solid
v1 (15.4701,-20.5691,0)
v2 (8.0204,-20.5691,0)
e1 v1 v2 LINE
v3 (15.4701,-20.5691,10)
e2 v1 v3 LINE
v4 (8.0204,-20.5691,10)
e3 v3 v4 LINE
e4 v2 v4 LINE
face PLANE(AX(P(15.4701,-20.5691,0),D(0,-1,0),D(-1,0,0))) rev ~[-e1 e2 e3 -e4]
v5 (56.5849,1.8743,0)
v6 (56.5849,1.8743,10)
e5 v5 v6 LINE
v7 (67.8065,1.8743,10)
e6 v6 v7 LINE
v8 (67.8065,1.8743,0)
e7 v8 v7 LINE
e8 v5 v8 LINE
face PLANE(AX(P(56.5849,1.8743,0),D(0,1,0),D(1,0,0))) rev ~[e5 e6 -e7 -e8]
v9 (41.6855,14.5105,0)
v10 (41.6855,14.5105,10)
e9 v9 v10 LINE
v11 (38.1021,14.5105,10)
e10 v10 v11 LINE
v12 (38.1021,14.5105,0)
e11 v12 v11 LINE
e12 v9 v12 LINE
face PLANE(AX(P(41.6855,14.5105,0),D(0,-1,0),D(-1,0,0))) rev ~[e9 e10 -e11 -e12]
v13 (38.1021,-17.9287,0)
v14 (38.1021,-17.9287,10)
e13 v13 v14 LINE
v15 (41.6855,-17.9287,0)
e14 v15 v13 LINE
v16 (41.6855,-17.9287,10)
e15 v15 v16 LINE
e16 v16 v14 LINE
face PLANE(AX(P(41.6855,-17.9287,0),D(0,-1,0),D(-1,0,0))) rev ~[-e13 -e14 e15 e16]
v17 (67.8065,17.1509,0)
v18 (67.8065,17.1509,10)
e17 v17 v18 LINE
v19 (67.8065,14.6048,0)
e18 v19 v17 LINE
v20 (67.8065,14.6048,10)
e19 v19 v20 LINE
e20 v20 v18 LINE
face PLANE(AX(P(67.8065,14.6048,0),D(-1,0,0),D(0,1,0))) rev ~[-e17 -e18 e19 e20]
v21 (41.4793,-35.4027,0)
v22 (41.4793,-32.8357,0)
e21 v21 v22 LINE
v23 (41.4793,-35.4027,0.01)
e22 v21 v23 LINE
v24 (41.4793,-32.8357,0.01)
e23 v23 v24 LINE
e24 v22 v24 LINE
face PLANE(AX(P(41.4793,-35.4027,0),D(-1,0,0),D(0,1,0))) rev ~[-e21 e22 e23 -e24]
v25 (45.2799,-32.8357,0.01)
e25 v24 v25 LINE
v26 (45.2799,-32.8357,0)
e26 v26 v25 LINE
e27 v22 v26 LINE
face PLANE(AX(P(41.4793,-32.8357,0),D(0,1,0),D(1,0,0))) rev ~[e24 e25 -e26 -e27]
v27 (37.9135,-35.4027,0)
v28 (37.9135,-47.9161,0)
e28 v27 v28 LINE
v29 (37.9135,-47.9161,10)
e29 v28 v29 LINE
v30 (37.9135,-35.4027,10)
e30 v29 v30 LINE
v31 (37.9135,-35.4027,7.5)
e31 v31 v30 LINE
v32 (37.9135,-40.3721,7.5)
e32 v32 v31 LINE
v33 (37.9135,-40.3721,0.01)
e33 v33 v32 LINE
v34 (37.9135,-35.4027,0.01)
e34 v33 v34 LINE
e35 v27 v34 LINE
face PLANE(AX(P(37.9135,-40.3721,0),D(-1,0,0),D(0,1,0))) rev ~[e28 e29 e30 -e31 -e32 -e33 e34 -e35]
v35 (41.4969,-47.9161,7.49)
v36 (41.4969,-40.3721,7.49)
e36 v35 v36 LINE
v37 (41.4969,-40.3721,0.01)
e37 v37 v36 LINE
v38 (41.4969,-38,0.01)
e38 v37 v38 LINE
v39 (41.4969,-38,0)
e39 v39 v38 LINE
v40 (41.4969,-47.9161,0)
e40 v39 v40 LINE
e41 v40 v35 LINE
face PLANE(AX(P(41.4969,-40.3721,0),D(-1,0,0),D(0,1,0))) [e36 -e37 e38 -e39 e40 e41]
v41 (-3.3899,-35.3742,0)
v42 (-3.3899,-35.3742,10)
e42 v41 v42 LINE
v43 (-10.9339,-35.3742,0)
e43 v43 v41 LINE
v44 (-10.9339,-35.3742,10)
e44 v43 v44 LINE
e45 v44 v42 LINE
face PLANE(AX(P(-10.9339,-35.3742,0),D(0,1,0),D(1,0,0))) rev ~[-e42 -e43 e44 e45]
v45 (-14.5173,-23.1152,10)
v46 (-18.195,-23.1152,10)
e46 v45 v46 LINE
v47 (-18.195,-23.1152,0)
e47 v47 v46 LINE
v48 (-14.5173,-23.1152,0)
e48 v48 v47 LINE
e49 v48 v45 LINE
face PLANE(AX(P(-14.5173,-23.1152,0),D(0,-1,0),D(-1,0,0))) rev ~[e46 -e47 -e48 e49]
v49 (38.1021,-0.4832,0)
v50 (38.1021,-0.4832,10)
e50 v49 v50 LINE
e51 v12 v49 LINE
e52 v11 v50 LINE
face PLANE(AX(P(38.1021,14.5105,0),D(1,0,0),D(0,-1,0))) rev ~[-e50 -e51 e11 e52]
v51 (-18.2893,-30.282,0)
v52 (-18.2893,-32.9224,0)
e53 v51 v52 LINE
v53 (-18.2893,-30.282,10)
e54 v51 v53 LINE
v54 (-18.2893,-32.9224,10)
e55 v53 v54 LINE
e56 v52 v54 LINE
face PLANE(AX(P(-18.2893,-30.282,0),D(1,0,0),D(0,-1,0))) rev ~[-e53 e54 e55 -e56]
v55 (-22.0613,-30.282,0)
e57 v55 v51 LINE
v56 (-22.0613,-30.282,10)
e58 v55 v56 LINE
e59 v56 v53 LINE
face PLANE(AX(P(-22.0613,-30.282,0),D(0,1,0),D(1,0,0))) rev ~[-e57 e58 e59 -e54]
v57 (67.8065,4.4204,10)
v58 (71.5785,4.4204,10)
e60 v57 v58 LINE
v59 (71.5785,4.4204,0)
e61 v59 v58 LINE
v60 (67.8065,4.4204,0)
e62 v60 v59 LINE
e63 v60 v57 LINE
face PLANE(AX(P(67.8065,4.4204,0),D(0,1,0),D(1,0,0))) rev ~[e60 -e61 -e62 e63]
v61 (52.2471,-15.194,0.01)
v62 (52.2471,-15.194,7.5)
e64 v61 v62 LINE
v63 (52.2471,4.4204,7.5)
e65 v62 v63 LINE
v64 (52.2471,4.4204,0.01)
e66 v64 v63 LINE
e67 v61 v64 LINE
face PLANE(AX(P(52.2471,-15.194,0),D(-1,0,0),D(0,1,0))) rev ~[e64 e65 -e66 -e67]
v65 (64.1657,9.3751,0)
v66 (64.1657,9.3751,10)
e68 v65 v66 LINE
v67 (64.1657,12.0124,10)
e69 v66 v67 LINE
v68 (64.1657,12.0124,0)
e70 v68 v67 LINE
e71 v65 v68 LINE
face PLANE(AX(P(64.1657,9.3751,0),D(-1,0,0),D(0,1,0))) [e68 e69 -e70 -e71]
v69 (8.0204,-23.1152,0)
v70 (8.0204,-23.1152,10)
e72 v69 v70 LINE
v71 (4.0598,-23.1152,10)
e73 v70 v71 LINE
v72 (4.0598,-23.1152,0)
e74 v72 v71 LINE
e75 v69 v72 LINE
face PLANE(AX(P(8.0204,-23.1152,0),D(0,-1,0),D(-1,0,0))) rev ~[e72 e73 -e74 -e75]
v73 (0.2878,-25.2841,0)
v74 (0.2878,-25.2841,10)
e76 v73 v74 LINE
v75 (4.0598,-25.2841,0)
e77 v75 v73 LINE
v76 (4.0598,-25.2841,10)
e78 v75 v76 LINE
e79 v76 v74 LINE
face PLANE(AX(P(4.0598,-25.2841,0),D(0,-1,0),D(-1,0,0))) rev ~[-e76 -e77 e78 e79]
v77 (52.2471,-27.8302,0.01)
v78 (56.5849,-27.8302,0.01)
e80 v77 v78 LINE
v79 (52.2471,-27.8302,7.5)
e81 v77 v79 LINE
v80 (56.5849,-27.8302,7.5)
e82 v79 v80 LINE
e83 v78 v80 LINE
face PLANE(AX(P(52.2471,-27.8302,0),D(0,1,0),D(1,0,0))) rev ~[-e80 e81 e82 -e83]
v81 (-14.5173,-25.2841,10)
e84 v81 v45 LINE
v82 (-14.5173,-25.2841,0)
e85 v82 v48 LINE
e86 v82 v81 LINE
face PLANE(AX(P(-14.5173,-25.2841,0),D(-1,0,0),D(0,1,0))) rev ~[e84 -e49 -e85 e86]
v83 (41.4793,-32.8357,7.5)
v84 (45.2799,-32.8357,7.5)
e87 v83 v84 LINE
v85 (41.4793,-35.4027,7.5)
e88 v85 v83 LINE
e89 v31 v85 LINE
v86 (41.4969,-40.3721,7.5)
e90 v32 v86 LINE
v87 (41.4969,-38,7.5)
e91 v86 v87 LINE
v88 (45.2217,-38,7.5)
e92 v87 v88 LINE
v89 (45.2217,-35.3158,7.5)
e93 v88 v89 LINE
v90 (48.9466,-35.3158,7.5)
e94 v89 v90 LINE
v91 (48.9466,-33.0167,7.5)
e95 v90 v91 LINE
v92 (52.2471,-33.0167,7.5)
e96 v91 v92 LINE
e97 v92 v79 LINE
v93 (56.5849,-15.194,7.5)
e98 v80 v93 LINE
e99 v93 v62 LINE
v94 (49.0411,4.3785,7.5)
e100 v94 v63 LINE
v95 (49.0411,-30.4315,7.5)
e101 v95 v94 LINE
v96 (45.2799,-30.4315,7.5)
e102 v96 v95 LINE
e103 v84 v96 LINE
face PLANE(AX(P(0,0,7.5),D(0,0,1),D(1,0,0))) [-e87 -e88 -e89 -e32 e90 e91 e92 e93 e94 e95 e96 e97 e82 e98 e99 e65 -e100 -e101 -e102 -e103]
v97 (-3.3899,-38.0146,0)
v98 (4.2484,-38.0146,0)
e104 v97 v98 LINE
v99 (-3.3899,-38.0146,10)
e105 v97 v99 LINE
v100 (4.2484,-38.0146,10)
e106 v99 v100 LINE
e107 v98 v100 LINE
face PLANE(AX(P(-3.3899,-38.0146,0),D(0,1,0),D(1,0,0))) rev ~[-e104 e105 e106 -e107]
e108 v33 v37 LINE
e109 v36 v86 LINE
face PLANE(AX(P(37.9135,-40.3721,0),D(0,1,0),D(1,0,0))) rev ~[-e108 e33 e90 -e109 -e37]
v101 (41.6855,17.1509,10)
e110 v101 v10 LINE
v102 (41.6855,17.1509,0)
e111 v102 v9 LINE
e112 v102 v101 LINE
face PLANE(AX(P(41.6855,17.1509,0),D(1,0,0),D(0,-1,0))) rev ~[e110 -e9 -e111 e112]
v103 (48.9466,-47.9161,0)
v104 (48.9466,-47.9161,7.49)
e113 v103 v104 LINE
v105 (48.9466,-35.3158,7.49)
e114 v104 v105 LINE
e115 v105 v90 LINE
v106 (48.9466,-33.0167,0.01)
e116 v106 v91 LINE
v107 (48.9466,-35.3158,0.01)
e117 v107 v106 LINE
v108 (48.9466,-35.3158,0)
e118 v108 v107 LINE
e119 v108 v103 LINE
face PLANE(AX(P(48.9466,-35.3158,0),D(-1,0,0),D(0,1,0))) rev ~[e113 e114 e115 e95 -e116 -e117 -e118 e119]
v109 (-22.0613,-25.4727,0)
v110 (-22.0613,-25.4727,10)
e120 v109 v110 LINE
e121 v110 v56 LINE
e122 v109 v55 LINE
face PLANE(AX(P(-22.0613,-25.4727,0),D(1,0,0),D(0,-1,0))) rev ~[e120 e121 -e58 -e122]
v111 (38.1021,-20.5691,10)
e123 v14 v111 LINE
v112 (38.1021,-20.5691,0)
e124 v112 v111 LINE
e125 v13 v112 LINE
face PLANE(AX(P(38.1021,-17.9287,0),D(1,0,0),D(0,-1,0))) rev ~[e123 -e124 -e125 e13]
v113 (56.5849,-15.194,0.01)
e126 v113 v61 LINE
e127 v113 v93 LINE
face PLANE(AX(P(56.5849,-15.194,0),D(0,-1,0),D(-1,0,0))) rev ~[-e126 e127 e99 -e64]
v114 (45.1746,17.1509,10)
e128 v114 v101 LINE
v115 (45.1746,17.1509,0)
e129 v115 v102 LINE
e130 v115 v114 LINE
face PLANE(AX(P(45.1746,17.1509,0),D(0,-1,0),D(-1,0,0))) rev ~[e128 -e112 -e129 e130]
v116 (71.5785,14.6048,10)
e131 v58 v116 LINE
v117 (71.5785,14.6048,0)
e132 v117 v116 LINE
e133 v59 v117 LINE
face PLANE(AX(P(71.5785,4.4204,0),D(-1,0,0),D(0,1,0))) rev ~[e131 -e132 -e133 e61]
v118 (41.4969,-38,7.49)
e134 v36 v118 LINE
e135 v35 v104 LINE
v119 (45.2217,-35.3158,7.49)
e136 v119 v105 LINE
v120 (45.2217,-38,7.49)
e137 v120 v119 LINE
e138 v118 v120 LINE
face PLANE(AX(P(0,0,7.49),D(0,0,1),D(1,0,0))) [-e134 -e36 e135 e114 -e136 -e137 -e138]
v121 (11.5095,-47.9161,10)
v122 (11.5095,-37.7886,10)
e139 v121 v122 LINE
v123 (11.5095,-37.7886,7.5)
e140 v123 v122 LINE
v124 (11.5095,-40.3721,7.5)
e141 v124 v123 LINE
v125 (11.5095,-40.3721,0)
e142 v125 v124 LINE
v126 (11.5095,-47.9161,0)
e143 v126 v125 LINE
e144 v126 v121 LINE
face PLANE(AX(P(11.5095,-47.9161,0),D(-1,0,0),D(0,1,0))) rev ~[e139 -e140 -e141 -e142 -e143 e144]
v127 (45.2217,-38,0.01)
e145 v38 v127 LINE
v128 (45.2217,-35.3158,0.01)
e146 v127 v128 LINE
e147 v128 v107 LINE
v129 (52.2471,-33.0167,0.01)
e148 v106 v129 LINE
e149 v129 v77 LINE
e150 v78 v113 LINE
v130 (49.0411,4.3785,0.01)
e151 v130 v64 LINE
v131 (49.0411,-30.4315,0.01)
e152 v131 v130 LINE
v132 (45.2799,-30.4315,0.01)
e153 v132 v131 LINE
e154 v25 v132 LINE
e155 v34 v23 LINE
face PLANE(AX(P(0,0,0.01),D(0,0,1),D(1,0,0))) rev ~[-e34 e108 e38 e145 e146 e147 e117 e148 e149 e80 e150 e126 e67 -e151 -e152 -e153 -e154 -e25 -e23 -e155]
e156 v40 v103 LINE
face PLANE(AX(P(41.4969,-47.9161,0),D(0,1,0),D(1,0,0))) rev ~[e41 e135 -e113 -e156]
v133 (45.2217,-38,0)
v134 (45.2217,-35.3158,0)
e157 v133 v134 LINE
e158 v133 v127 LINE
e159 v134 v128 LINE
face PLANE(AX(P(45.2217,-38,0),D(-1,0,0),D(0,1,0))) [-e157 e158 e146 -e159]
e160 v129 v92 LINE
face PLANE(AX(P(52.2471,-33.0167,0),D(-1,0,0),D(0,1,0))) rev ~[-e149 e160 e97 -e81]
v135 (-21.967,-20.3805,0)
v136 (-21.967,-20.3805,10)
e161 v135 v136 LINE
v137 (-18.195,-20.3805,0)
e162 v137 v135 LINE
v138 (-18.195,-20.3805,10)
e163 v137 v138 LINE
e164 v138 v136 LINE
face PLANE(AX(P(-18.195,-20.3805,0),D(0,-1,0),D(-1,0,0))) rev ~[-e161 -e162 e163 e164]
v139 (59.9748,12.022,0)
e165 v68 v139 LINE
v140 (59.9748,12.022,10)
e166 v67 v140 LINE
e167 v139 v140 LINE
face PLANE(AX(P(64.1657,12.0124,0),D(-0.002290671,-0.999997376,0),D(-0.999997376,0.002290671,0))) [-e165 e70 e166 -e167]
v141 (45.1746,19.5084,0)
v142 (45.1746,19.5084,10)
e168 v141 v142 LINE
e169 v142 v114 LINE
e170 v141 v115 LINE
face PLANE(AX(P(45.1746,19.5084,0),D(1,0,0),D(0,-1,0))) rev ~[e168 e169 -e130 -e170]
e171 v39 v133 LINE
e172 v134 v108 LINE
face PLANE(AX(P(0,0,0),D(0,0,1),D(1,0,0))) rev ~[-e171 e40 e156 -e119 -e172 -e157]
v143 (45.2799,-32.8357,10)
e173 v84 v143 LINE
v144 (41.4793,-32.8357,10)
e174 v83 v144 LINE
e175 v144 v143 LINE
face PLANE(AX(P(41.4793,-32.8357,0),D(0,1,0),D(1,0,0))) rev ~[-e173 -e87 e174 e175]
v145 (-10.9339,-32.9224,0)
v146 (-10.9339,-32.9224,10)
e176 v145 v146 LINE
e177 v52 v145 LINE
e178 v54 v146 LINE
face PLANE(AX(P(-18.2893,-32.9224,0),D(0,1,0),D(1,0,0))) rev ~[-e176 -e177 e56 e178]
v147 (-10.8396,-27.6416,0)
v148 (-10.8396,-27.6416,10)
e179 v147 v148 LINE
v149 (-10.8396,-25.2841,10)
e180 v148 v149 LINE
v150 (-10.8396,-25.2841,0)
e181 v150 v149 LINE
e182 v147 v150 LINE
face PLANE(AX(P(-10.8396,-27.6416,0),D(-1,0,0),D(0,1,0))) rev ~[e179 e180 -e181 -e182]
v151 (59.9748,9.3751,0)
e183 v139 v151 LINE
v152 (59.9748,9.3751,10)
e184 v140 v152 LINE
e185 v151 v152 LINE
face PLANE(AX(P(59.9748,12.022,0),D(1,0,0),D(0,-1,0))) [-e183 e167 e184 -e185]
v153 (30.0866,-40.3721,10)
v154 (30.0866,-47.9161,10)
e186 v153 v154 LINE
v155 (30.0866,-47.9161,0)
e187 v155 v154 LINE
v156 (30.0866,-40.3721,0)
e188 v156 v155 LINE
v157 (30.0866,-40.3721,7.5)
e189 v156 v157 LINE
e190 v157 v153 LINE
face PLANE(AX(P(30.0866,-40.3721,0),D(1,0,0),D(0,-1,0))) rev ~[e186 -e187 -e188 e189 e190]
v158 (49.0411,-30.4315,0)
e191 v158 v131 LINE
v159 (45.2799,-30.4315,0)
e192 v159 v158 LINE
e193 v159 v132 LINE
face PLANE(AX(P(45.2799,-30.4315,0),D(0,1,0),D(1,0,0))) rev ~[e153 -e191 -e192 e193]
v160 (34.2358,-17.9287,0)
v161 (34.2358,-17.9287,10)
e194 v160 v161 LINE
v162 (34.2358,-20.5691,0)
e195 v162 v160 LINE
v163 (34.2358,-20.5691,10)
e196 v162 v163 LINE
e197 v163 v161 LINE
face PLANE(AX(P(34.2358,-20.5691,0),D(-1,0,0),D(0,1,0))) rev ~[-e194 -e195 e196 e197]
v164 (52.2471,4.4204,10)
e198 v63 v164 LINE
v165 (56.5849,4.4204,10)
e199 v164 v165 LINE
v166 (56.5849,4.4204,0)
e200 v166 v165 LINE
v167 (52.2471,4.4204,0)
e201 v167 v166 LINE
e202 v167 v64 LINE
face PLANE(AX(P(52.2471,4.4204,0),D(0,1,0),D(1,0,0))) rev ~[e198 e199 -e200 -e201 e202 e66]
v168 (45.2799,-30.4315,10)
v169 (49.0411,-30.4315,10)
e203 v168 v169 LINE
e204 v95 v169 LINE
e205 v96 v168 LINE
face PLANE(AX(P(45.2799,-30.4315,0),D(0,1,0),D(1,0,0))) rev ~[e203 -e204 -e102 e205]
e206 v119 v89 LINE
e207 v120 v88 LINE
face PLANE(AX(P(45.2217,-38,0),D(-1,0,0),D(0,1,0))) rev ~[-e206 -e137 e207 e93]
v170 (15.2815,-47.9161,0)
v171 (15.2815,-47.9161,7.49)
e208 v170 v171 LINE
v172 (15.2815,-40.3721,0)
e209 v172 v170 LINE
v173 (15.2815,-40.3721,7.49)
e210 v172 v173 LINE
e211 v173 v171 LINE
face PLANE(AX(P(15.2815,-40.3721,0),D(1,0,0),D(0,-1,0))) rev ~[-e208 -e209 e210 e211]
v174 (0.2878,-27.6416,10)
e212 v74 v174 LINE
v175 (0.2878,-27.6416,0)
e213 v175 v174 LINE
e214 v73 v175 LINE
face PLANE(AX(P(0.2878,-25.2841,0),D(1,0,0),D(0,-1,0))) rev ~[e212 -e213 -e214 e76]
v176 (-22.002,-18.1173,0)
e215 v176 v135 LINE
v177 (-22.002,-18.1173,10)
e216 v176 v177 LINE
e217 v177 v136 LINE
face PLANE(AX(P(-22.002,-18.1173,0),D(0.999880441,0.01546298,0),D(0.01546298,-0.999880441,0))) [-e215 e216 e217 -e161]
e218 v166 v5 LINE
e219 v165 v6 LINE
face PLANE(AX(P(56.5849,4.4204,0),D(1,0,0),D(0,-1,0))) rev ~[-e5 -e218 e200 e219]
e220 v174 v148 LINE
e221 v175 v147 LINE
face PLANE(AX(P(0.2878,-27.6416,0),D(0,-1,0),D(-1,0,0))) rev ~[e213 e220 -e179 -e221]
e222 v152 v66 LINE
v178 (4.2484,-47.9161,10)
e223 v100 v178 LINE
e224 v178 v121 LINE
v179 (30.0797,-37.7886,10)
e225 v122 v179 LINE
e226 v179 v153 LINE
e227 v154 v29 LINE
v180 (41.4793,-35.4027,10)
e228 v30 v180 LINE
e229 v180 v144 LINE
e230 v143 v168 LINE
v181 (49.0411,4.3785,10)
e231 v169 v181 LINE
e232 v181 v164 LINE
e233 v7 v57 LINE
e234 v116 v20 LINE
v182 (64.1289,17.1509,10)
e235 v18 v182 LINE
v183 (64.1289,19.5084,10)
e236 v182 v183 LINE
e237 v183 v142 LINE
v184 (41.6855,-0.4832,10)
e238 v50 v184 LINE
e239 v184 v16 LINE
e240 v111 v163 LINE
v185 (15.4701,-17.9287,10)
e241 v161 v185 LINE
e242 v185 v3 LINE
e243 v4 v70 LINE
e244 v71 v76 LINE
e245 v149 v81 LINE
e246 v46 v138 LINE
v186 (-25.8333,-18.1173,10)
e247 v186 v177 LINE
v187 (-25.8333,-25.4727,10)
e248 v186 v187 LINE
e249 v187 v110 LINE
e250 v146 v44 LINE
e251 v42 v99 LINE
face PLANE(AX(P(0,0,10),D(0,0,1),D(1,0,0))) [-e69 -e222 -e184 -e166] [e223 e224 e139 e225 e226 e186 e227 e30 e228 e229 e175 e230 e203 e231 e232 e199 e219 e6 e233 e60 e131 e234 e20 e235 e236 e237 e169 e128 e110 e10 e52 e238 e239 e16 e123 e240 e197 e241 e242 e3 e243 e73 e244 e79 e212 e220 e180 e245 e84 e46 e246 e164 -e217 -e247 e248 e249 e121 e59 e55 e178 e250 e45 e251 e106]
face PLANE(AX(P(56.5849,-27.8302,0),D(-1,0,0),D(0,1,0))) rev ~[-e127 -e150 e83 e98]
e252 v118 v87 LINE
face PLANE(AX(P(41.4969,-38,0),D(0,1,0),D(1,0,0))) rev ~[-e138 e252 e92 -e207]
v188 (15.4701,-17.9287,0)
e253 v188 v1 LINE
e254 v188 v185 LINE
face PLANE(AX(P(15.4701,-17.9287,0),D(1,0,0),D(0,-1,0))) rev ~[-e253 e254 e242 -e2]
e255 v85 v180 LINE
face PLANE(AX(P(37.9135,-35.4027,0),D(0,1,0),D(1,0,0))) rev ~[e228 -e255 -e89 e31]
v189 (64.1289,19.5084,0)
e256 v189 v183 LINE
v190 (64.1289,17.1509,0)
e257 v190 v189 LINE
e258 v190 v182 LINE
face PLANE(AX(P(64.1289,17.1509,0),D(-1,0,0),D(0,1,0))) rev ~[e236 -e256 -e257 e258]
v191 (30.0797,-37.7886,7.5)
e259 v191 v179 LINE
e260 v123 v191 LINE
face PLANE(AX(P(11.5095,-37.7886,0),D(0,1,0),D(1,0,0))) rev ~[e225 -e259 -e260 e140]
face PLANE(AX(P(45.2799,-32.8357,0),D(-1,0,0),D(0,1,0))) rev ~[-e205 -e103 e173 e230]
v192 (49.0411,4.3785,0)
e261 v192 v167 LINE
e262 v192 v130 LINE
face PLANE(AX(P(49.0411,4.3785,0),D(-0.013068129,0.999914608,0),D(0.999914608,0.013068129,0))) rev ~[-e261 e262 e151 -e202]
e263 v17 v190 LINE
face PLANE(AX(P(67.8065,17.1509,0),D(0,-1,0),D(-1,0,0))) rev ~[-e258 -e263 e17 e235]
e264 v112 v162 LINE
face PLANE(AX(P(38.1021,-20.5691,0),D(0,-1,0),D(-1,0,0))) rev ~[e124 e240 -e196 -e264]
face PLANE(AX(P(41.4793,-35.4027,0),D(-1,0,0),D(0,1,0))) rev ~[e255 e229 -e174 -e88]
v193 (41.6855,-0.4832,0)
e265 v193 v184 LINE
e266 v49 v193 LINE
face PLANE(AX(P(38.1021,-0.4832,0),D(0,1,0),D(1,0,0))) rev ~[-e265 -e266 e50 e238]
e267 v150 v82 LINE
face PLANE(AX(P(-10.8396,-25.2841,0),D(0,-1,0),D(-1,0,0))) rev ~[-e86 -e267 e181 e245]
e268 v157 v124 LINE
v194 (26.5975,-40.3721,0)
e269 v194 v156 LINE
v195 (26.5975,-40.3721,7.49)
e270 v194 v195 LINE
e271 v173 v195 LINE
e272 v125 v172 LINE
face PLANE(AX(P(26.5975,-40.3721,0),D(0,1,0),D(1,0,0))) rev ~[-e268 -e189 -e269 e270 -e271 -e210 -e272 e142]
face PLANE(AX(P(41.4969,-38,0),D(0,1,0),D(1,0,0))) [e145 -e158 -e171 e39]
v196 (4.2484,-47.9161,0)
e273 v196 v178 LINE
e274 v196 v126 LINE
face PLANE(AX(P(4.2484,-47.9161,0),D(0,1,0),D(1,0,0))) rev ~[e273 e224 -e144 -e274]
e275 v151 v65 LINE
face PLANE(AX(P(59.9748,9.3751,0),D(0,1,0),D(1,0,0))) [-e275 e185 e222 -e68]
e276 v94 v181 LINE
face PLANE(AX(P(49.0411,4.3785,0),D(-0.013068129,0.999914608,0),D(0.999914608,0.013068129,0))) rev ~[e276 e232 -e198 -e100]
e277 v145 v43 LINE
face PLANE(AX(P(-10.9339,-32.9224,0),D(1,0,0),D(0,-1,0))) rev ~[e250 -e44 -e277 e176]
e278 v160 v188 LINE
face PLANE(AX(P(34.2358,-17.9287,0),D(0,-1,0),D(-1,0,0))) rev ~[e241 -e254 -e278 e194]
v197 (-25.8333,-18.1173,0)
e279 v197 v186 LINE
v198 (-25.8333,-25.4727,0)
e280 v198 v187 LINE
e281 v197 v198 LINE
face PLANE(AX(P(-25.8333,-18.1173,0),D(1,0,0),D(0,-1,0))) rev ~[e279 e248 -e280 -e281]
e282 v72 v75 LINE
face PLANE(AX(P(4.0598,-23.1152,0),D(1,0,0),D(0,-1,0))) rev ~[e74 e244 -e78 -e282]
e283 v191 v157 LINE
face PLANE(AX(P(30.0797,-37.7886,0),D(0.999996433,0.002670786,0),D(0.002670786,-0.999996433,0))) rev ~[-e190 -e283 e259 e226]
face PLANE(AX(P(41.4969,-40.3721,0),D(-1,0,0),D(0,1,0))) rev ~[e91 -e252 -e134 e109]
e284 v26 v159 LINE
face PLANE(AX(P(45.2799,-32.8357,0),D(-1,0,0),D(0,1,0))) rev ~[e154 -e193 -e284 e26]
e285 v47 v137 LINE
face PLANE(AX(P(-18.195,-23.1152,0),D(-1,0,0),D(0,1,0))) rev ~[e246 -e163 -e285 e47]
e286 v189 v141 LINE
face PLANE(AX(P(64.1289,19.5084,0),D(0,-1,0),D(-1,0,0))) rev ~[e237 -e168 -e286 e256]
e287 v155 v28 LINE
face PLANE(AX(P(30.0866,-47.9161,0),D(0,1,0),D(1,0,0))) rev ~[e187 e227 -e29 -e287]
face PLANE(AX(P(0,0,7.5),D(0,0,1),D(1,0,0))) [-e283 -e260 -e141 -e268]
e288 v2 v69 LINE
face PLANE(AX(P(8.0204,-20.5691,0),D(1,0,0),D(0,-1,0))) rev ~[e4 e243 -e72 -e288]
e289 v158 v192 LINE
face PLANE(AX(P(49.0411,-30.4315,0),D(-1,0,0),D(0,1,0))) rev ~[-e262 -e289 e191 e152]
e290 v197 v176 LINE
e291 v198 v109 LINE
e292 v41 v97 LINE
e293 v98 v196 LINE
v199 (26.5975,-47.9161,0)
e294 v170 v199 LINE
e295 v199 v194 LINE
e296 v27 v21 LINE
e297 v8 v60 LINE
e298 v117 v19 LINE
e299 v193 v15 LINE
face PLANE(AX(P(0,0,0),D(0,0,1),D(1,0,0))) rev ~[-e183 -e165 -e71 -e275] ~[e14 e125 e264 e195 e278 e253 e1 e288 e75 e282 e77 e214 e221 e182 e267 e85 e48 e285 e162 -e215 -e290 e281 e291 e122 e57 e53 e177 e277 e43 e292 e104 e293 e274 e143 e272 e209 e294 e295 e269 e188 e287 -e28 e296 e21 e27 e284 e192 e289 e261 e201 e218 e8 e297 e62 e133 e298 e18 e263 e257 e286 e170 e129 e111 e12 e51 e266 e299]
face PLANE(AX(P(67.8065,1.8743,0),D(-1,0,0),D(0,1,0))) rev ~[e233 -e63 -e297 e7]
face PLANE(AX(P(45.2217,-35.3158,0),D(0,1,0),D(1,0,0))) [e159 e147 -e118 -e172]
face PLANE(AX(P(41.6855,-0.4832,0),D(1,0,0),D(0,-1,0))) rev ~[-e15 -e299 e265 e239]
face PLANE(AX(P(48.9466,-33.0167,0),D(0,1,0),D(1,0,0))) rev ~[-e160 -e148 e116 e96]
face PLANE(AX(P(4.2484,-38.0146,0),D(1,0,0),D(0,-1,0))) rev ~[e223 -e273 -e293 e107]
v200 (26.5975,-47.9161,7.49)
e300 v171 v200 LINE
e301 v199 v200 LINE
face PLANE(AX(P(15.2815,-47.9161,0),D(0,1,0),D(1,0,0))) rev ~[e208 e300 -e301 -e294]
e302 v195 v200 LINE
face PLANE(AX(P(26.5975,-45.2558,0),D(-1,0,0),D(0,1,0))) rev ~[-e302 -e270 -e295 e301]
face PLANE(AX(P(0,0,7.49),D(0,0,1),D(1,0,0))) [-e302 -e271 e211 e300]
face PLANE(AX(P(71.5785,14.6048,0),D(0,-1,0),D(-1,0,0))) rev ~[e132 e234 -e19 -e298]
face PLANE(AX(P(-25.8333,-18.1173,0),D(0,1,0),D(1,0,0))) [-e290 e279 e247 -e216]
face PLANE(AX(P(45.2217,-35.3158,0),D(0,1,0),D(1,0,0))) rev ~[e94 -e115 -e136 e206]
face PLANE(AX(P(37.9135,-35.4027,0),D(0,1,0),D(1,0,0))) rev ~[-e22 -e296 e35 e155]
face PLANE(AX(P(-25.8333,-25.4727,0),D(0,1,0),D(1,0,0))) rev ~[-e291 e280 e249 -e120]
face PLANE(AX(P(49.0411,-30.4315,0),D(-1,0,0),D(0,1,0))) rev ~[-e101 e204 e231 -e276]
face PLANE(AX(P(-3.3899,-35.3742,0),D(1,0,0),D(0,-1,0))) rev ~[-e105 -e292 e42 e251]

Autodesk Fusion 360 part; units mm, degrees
sketch "Dino" plane through (0, 0, 0) normal (0, 0, 1) x (1, 0, 0)
  line L0 (-25.8333, -18.1173) -> (-25.8333, -25.4727)
  line L1 (-25.8333, -25.4727) -> (-22.0613, -25.4727)
  line L2 (-22.0613, -25.4727) -> (-22.0613, -30.282)
  line L3 (-22.0613, -30.282) -> (-18.2893, -30.282)
  line L4 (-18.2893, -30.282) -> (-18.2893, -32.9224)
  line L5 (-18.2893, -32.9224) -> (-10.9339, -32.9224)
  line L6 (-10.9339, -32.9224) -> (-10.9339, -35.3742)
  line L7 (-10.9339, -35.3742) -> (-3.3899, -35.3742)
  line L8 (-3.3899, -35.3742) -> (-3.3899, -38.0146)
  line L9 (-3.3899, -38.0146) -> (4.2484, -38.0146)
  line L10 (4.2484, -38.0146) -> (4.2484, -47.9161)
  line L11 (4.2484, -47.9161) -> (11.5095, -47.9161)
  line L12 (11.5095, -47.9161) -> (11.5095, -40.3721)
  line L13 (11.5095, -40.3721) -> (15.2815, -40.3721)
  line L14 (15.2815, -40.3721) -> (15.2815, -47.9161)
  line L15 (15.2815, -47.9161) -> (26.5975, -47.9161)
  line L16 (26.5975, -40.3721) -> (30.0866, -40.3721)
  line L17 (30.0866, -40.3721) -> (30.0866, -47.9161)
  line L18 (30.0866, -47.9161) -> (37.9135, -47.9161)
  line L19 (37.9135, -47.9161) -> (37.9135, -40.3721)
  line L20 (37.9135, -40.3721) -> (41.4969, -40.3721)
  line L21 (41.4969, -40.3721) -> (41.4969, -47.9161)
  line L22 (41.4969, -47.9161) -> (48.9466, -47.9161)
  line L23 (48.9466, -47.9161) -> (48.9466, -33.0167)
  line L24 (48.9466, -33.0167) -> (52.2471, -33.0167)
  line L25 (52.2471, -33.0167) -> (52.2471, -27.8302)
  line L26 (52.2471, -27.8302) -> (56.5849, -27.8302)
  line L27 (56.5849, -27.8302) -> (56.5849, -15.194)
  line L28 (56.5849, -15.194) -> (52.2471, -15.194)
  line L29 (52.2471, -15.194) -> (52.2471, 4.4204)
  line L30 (52.2471, 4.4204) -> (56.5849, 4.4204)
  line L31 (56.5849, 4.4204) -> (56.5849, 1.8743)
  line L32 (56.5849, 1.8743) -> (67.8065, 1.8743)
  line L33 (67.8065, 1.8743) -> (67.8065, 4.4204)
  line L34 (67.8065, 4.4204) -> (71.5785, 4.4204)
  line L35 (71.5785, 4.4204) -> (71.5785, 14.6048)
  line L36 (71.5785, 14.6048) -> (67.8065, 14.6048)
  line L37 (67.8065, 14.6048) -> (67.8065, 17.1509)
  line L38 (67.8065, 17.1509) -> (64.1289, 17.1509)
  line L39 (64.1289, 17.1509) -> (64.1289, 19.5084)
  line L40 (64.1289, 19.5084) -> (45.1746, 19.5084)
  line L41 (45.1746, 19.5084) -> (45.1746, 17.1509)
  line L42 (45.1746, 17.1509) -> (41.6855, 17.1509)
  line L43 (41.6855, 17.1509) -> (41.6855, 14.5105)
  line L44 (41.6855, 14.5105) -> (38.1021, 14.5105)
  line L45 (38.1021, 14.5105) -> (38.1021, -0.4832)
  line L46 (38.1021, -0.4832) -> (41.6855, -0.4832)
  line L47 (41.6855, -0.4832) -> (41.6855, -17.9287)
  line L48 (41.6855, -17.9287) -> (38.1021, -17.9287)
  line L49 (38.1021, -17.9287) -> (38.1021, -20.5691)
  line L50 (38.1021, -20.5691) -> (34.2358, -20.5691)
  line L51 (34.2358, -20.5691) -> (34.2358, -17.9287)
  line L52 (34.2358, -17.9287) -> (15.4701, -17.9287)
  line L53 (15.4701, -17.9287) -> (15.4701, -20.5691)
  line L54 (15.4701, -20.5691) -> (8.0204, -20.5691)
  line L55 (8.0204, -20.5691) -> (8.0204, -23.1152)
  line L56 (8.0204, -23.1152) -> (4.0598, -23.1152)
  line L57 (4.0598, -23.1152) -> (4.0598, -25.2841)
  line L58 (4.0598, -25.2841) -> (0.2878, -25.2841)
  line L59 (0.2878, -25.2841) -> (0.2878, -27.6416)
  line L60 (0.2878, -27.6416) -> (-10.8396, -27.6416)
  line L61 (-10.8396, -27.6416) -> (-10.8396, -25.2841)
  line L62 (-10.8396, -25.2841) -> (-14.5173, -25.2841)
  line L63 (-14.5173, -25.2841) -> (-14.5173, -23.1152)
  line L64 (-14.5173, -23.1152) -> (-18.195, -23.1152)
  line L65 (-18.195, -23.1152) -> (-18.195, -20.3805)
  line L66 (-18.195, -20.3805) -> (-21.967, -20.3805)
  line L67 (-25.8333, -18.1173) -> (-22.002, -18.1173)
  line L68 (-22.002, -18.1173) -> (-21.967, -20.3805)
  line L69 (11.5095, -40.3721) -> (11.5095, -37.7886)
  line L70 (11.5095, -37.7886) -> (30.0797, -37.7886)
  line L71 (30.0797, -37.7886) -> (30.0866, -40.3721)
  line L72 (30.0866, -40.3721) -> (26.5975, -40.3721)
  line L73 (37.9135, -40.3721) -> (37.9135, -35.4027)
  line L74 (37.9135, -35.4027) -> (41.4793, -35.4027)
  line L75 (41.4793, -35.4027) -> (41.4793, -32.8357)
  line L76 (41.4793, -32.8357) -> (45.2799, -32.8357)
  line L77 (45.2799, -32.8357) -> (45.2799, -30.4315)
  line L78 (45.2799, -30.4315) -> (49.0411, -30.4315)
  line L79 (49.0411, -30.4315) -> (49.0411, 4.3785)
  line L80 (49.0411, 4.3785) -> (52.2471, 4.4204)
  line L81 (59.9748, 12.022) -> (59.9748, 9.3751)
  line L82 (59.9748, 9.3751) -> (64.1657, 9.3751)
  line L83 (64.1657, 9.3751) -> (64.1657, 12.0124)
  line L84 (64.1657, 12.0124) -> (59.9748, 12.022)
  line L85 (15.2815, -40.3721) -> (26.5975, -40.3721)
  line L86 (26.5975, -45.2558) -> (26.5975, -47.9161)
  line L87 (26.5975, -45.2558) -> (26.5975, -40.3721)
  line L88 (41.4969, -40.3721) -> (41.4969, -38)
  line L89 (41.4969, -38) -> (45.2217, -38)
  line L90 (45.2217, -38) -> (45.2217, -35.3158)
  line L91 (45.2217, -35.3158) -> (48.9466, -35.3158)
extrude "Extrude18" add sketch "Dino" along normal blind 10 contours L0 L1 L2 L3 L4 L5 L6 L7 L8 L9 L10 L11 L12 L17 L18 L19 L30 L31 L32 L33 L34 L35 L36 L37 L38 L39 L40 L41 L42 L43 L44 L45 L46 L47 L48 L49 L50 L51 L52 L53 L54 L55 L56 L57 L58 L59 L60 L61 L62 L63 L64 L65 L66 L67 L68 L69 L70 L71 L73 L74 L75 L76 L77 L78 L79 L80
extrude "Extrude19" add sketch "Dino" along normal blind 7.5 contours L13 L16 L69 L70 L71 L72 L85 | L20 L23 L24 L25 L26 L27 L28 L29 L73 L74 L75 L76 L77 L78 L79 L80 L88 L89 L90 L91
extrude "Extrude20" add sketch "Dino" along normal blind 7.49 contours L14 L15 L85 L86 L87 | L21 L22 L23 L88 L89 L90 L91
extrude "Extrude21" cut sketch "Dino" along normal blind 0.01 contours L20 L23 L24 L25 L26 L27 L28 L29 L73 L74 L75 L76 L77 L78 L79 L80 L88 L89 L90 L91
